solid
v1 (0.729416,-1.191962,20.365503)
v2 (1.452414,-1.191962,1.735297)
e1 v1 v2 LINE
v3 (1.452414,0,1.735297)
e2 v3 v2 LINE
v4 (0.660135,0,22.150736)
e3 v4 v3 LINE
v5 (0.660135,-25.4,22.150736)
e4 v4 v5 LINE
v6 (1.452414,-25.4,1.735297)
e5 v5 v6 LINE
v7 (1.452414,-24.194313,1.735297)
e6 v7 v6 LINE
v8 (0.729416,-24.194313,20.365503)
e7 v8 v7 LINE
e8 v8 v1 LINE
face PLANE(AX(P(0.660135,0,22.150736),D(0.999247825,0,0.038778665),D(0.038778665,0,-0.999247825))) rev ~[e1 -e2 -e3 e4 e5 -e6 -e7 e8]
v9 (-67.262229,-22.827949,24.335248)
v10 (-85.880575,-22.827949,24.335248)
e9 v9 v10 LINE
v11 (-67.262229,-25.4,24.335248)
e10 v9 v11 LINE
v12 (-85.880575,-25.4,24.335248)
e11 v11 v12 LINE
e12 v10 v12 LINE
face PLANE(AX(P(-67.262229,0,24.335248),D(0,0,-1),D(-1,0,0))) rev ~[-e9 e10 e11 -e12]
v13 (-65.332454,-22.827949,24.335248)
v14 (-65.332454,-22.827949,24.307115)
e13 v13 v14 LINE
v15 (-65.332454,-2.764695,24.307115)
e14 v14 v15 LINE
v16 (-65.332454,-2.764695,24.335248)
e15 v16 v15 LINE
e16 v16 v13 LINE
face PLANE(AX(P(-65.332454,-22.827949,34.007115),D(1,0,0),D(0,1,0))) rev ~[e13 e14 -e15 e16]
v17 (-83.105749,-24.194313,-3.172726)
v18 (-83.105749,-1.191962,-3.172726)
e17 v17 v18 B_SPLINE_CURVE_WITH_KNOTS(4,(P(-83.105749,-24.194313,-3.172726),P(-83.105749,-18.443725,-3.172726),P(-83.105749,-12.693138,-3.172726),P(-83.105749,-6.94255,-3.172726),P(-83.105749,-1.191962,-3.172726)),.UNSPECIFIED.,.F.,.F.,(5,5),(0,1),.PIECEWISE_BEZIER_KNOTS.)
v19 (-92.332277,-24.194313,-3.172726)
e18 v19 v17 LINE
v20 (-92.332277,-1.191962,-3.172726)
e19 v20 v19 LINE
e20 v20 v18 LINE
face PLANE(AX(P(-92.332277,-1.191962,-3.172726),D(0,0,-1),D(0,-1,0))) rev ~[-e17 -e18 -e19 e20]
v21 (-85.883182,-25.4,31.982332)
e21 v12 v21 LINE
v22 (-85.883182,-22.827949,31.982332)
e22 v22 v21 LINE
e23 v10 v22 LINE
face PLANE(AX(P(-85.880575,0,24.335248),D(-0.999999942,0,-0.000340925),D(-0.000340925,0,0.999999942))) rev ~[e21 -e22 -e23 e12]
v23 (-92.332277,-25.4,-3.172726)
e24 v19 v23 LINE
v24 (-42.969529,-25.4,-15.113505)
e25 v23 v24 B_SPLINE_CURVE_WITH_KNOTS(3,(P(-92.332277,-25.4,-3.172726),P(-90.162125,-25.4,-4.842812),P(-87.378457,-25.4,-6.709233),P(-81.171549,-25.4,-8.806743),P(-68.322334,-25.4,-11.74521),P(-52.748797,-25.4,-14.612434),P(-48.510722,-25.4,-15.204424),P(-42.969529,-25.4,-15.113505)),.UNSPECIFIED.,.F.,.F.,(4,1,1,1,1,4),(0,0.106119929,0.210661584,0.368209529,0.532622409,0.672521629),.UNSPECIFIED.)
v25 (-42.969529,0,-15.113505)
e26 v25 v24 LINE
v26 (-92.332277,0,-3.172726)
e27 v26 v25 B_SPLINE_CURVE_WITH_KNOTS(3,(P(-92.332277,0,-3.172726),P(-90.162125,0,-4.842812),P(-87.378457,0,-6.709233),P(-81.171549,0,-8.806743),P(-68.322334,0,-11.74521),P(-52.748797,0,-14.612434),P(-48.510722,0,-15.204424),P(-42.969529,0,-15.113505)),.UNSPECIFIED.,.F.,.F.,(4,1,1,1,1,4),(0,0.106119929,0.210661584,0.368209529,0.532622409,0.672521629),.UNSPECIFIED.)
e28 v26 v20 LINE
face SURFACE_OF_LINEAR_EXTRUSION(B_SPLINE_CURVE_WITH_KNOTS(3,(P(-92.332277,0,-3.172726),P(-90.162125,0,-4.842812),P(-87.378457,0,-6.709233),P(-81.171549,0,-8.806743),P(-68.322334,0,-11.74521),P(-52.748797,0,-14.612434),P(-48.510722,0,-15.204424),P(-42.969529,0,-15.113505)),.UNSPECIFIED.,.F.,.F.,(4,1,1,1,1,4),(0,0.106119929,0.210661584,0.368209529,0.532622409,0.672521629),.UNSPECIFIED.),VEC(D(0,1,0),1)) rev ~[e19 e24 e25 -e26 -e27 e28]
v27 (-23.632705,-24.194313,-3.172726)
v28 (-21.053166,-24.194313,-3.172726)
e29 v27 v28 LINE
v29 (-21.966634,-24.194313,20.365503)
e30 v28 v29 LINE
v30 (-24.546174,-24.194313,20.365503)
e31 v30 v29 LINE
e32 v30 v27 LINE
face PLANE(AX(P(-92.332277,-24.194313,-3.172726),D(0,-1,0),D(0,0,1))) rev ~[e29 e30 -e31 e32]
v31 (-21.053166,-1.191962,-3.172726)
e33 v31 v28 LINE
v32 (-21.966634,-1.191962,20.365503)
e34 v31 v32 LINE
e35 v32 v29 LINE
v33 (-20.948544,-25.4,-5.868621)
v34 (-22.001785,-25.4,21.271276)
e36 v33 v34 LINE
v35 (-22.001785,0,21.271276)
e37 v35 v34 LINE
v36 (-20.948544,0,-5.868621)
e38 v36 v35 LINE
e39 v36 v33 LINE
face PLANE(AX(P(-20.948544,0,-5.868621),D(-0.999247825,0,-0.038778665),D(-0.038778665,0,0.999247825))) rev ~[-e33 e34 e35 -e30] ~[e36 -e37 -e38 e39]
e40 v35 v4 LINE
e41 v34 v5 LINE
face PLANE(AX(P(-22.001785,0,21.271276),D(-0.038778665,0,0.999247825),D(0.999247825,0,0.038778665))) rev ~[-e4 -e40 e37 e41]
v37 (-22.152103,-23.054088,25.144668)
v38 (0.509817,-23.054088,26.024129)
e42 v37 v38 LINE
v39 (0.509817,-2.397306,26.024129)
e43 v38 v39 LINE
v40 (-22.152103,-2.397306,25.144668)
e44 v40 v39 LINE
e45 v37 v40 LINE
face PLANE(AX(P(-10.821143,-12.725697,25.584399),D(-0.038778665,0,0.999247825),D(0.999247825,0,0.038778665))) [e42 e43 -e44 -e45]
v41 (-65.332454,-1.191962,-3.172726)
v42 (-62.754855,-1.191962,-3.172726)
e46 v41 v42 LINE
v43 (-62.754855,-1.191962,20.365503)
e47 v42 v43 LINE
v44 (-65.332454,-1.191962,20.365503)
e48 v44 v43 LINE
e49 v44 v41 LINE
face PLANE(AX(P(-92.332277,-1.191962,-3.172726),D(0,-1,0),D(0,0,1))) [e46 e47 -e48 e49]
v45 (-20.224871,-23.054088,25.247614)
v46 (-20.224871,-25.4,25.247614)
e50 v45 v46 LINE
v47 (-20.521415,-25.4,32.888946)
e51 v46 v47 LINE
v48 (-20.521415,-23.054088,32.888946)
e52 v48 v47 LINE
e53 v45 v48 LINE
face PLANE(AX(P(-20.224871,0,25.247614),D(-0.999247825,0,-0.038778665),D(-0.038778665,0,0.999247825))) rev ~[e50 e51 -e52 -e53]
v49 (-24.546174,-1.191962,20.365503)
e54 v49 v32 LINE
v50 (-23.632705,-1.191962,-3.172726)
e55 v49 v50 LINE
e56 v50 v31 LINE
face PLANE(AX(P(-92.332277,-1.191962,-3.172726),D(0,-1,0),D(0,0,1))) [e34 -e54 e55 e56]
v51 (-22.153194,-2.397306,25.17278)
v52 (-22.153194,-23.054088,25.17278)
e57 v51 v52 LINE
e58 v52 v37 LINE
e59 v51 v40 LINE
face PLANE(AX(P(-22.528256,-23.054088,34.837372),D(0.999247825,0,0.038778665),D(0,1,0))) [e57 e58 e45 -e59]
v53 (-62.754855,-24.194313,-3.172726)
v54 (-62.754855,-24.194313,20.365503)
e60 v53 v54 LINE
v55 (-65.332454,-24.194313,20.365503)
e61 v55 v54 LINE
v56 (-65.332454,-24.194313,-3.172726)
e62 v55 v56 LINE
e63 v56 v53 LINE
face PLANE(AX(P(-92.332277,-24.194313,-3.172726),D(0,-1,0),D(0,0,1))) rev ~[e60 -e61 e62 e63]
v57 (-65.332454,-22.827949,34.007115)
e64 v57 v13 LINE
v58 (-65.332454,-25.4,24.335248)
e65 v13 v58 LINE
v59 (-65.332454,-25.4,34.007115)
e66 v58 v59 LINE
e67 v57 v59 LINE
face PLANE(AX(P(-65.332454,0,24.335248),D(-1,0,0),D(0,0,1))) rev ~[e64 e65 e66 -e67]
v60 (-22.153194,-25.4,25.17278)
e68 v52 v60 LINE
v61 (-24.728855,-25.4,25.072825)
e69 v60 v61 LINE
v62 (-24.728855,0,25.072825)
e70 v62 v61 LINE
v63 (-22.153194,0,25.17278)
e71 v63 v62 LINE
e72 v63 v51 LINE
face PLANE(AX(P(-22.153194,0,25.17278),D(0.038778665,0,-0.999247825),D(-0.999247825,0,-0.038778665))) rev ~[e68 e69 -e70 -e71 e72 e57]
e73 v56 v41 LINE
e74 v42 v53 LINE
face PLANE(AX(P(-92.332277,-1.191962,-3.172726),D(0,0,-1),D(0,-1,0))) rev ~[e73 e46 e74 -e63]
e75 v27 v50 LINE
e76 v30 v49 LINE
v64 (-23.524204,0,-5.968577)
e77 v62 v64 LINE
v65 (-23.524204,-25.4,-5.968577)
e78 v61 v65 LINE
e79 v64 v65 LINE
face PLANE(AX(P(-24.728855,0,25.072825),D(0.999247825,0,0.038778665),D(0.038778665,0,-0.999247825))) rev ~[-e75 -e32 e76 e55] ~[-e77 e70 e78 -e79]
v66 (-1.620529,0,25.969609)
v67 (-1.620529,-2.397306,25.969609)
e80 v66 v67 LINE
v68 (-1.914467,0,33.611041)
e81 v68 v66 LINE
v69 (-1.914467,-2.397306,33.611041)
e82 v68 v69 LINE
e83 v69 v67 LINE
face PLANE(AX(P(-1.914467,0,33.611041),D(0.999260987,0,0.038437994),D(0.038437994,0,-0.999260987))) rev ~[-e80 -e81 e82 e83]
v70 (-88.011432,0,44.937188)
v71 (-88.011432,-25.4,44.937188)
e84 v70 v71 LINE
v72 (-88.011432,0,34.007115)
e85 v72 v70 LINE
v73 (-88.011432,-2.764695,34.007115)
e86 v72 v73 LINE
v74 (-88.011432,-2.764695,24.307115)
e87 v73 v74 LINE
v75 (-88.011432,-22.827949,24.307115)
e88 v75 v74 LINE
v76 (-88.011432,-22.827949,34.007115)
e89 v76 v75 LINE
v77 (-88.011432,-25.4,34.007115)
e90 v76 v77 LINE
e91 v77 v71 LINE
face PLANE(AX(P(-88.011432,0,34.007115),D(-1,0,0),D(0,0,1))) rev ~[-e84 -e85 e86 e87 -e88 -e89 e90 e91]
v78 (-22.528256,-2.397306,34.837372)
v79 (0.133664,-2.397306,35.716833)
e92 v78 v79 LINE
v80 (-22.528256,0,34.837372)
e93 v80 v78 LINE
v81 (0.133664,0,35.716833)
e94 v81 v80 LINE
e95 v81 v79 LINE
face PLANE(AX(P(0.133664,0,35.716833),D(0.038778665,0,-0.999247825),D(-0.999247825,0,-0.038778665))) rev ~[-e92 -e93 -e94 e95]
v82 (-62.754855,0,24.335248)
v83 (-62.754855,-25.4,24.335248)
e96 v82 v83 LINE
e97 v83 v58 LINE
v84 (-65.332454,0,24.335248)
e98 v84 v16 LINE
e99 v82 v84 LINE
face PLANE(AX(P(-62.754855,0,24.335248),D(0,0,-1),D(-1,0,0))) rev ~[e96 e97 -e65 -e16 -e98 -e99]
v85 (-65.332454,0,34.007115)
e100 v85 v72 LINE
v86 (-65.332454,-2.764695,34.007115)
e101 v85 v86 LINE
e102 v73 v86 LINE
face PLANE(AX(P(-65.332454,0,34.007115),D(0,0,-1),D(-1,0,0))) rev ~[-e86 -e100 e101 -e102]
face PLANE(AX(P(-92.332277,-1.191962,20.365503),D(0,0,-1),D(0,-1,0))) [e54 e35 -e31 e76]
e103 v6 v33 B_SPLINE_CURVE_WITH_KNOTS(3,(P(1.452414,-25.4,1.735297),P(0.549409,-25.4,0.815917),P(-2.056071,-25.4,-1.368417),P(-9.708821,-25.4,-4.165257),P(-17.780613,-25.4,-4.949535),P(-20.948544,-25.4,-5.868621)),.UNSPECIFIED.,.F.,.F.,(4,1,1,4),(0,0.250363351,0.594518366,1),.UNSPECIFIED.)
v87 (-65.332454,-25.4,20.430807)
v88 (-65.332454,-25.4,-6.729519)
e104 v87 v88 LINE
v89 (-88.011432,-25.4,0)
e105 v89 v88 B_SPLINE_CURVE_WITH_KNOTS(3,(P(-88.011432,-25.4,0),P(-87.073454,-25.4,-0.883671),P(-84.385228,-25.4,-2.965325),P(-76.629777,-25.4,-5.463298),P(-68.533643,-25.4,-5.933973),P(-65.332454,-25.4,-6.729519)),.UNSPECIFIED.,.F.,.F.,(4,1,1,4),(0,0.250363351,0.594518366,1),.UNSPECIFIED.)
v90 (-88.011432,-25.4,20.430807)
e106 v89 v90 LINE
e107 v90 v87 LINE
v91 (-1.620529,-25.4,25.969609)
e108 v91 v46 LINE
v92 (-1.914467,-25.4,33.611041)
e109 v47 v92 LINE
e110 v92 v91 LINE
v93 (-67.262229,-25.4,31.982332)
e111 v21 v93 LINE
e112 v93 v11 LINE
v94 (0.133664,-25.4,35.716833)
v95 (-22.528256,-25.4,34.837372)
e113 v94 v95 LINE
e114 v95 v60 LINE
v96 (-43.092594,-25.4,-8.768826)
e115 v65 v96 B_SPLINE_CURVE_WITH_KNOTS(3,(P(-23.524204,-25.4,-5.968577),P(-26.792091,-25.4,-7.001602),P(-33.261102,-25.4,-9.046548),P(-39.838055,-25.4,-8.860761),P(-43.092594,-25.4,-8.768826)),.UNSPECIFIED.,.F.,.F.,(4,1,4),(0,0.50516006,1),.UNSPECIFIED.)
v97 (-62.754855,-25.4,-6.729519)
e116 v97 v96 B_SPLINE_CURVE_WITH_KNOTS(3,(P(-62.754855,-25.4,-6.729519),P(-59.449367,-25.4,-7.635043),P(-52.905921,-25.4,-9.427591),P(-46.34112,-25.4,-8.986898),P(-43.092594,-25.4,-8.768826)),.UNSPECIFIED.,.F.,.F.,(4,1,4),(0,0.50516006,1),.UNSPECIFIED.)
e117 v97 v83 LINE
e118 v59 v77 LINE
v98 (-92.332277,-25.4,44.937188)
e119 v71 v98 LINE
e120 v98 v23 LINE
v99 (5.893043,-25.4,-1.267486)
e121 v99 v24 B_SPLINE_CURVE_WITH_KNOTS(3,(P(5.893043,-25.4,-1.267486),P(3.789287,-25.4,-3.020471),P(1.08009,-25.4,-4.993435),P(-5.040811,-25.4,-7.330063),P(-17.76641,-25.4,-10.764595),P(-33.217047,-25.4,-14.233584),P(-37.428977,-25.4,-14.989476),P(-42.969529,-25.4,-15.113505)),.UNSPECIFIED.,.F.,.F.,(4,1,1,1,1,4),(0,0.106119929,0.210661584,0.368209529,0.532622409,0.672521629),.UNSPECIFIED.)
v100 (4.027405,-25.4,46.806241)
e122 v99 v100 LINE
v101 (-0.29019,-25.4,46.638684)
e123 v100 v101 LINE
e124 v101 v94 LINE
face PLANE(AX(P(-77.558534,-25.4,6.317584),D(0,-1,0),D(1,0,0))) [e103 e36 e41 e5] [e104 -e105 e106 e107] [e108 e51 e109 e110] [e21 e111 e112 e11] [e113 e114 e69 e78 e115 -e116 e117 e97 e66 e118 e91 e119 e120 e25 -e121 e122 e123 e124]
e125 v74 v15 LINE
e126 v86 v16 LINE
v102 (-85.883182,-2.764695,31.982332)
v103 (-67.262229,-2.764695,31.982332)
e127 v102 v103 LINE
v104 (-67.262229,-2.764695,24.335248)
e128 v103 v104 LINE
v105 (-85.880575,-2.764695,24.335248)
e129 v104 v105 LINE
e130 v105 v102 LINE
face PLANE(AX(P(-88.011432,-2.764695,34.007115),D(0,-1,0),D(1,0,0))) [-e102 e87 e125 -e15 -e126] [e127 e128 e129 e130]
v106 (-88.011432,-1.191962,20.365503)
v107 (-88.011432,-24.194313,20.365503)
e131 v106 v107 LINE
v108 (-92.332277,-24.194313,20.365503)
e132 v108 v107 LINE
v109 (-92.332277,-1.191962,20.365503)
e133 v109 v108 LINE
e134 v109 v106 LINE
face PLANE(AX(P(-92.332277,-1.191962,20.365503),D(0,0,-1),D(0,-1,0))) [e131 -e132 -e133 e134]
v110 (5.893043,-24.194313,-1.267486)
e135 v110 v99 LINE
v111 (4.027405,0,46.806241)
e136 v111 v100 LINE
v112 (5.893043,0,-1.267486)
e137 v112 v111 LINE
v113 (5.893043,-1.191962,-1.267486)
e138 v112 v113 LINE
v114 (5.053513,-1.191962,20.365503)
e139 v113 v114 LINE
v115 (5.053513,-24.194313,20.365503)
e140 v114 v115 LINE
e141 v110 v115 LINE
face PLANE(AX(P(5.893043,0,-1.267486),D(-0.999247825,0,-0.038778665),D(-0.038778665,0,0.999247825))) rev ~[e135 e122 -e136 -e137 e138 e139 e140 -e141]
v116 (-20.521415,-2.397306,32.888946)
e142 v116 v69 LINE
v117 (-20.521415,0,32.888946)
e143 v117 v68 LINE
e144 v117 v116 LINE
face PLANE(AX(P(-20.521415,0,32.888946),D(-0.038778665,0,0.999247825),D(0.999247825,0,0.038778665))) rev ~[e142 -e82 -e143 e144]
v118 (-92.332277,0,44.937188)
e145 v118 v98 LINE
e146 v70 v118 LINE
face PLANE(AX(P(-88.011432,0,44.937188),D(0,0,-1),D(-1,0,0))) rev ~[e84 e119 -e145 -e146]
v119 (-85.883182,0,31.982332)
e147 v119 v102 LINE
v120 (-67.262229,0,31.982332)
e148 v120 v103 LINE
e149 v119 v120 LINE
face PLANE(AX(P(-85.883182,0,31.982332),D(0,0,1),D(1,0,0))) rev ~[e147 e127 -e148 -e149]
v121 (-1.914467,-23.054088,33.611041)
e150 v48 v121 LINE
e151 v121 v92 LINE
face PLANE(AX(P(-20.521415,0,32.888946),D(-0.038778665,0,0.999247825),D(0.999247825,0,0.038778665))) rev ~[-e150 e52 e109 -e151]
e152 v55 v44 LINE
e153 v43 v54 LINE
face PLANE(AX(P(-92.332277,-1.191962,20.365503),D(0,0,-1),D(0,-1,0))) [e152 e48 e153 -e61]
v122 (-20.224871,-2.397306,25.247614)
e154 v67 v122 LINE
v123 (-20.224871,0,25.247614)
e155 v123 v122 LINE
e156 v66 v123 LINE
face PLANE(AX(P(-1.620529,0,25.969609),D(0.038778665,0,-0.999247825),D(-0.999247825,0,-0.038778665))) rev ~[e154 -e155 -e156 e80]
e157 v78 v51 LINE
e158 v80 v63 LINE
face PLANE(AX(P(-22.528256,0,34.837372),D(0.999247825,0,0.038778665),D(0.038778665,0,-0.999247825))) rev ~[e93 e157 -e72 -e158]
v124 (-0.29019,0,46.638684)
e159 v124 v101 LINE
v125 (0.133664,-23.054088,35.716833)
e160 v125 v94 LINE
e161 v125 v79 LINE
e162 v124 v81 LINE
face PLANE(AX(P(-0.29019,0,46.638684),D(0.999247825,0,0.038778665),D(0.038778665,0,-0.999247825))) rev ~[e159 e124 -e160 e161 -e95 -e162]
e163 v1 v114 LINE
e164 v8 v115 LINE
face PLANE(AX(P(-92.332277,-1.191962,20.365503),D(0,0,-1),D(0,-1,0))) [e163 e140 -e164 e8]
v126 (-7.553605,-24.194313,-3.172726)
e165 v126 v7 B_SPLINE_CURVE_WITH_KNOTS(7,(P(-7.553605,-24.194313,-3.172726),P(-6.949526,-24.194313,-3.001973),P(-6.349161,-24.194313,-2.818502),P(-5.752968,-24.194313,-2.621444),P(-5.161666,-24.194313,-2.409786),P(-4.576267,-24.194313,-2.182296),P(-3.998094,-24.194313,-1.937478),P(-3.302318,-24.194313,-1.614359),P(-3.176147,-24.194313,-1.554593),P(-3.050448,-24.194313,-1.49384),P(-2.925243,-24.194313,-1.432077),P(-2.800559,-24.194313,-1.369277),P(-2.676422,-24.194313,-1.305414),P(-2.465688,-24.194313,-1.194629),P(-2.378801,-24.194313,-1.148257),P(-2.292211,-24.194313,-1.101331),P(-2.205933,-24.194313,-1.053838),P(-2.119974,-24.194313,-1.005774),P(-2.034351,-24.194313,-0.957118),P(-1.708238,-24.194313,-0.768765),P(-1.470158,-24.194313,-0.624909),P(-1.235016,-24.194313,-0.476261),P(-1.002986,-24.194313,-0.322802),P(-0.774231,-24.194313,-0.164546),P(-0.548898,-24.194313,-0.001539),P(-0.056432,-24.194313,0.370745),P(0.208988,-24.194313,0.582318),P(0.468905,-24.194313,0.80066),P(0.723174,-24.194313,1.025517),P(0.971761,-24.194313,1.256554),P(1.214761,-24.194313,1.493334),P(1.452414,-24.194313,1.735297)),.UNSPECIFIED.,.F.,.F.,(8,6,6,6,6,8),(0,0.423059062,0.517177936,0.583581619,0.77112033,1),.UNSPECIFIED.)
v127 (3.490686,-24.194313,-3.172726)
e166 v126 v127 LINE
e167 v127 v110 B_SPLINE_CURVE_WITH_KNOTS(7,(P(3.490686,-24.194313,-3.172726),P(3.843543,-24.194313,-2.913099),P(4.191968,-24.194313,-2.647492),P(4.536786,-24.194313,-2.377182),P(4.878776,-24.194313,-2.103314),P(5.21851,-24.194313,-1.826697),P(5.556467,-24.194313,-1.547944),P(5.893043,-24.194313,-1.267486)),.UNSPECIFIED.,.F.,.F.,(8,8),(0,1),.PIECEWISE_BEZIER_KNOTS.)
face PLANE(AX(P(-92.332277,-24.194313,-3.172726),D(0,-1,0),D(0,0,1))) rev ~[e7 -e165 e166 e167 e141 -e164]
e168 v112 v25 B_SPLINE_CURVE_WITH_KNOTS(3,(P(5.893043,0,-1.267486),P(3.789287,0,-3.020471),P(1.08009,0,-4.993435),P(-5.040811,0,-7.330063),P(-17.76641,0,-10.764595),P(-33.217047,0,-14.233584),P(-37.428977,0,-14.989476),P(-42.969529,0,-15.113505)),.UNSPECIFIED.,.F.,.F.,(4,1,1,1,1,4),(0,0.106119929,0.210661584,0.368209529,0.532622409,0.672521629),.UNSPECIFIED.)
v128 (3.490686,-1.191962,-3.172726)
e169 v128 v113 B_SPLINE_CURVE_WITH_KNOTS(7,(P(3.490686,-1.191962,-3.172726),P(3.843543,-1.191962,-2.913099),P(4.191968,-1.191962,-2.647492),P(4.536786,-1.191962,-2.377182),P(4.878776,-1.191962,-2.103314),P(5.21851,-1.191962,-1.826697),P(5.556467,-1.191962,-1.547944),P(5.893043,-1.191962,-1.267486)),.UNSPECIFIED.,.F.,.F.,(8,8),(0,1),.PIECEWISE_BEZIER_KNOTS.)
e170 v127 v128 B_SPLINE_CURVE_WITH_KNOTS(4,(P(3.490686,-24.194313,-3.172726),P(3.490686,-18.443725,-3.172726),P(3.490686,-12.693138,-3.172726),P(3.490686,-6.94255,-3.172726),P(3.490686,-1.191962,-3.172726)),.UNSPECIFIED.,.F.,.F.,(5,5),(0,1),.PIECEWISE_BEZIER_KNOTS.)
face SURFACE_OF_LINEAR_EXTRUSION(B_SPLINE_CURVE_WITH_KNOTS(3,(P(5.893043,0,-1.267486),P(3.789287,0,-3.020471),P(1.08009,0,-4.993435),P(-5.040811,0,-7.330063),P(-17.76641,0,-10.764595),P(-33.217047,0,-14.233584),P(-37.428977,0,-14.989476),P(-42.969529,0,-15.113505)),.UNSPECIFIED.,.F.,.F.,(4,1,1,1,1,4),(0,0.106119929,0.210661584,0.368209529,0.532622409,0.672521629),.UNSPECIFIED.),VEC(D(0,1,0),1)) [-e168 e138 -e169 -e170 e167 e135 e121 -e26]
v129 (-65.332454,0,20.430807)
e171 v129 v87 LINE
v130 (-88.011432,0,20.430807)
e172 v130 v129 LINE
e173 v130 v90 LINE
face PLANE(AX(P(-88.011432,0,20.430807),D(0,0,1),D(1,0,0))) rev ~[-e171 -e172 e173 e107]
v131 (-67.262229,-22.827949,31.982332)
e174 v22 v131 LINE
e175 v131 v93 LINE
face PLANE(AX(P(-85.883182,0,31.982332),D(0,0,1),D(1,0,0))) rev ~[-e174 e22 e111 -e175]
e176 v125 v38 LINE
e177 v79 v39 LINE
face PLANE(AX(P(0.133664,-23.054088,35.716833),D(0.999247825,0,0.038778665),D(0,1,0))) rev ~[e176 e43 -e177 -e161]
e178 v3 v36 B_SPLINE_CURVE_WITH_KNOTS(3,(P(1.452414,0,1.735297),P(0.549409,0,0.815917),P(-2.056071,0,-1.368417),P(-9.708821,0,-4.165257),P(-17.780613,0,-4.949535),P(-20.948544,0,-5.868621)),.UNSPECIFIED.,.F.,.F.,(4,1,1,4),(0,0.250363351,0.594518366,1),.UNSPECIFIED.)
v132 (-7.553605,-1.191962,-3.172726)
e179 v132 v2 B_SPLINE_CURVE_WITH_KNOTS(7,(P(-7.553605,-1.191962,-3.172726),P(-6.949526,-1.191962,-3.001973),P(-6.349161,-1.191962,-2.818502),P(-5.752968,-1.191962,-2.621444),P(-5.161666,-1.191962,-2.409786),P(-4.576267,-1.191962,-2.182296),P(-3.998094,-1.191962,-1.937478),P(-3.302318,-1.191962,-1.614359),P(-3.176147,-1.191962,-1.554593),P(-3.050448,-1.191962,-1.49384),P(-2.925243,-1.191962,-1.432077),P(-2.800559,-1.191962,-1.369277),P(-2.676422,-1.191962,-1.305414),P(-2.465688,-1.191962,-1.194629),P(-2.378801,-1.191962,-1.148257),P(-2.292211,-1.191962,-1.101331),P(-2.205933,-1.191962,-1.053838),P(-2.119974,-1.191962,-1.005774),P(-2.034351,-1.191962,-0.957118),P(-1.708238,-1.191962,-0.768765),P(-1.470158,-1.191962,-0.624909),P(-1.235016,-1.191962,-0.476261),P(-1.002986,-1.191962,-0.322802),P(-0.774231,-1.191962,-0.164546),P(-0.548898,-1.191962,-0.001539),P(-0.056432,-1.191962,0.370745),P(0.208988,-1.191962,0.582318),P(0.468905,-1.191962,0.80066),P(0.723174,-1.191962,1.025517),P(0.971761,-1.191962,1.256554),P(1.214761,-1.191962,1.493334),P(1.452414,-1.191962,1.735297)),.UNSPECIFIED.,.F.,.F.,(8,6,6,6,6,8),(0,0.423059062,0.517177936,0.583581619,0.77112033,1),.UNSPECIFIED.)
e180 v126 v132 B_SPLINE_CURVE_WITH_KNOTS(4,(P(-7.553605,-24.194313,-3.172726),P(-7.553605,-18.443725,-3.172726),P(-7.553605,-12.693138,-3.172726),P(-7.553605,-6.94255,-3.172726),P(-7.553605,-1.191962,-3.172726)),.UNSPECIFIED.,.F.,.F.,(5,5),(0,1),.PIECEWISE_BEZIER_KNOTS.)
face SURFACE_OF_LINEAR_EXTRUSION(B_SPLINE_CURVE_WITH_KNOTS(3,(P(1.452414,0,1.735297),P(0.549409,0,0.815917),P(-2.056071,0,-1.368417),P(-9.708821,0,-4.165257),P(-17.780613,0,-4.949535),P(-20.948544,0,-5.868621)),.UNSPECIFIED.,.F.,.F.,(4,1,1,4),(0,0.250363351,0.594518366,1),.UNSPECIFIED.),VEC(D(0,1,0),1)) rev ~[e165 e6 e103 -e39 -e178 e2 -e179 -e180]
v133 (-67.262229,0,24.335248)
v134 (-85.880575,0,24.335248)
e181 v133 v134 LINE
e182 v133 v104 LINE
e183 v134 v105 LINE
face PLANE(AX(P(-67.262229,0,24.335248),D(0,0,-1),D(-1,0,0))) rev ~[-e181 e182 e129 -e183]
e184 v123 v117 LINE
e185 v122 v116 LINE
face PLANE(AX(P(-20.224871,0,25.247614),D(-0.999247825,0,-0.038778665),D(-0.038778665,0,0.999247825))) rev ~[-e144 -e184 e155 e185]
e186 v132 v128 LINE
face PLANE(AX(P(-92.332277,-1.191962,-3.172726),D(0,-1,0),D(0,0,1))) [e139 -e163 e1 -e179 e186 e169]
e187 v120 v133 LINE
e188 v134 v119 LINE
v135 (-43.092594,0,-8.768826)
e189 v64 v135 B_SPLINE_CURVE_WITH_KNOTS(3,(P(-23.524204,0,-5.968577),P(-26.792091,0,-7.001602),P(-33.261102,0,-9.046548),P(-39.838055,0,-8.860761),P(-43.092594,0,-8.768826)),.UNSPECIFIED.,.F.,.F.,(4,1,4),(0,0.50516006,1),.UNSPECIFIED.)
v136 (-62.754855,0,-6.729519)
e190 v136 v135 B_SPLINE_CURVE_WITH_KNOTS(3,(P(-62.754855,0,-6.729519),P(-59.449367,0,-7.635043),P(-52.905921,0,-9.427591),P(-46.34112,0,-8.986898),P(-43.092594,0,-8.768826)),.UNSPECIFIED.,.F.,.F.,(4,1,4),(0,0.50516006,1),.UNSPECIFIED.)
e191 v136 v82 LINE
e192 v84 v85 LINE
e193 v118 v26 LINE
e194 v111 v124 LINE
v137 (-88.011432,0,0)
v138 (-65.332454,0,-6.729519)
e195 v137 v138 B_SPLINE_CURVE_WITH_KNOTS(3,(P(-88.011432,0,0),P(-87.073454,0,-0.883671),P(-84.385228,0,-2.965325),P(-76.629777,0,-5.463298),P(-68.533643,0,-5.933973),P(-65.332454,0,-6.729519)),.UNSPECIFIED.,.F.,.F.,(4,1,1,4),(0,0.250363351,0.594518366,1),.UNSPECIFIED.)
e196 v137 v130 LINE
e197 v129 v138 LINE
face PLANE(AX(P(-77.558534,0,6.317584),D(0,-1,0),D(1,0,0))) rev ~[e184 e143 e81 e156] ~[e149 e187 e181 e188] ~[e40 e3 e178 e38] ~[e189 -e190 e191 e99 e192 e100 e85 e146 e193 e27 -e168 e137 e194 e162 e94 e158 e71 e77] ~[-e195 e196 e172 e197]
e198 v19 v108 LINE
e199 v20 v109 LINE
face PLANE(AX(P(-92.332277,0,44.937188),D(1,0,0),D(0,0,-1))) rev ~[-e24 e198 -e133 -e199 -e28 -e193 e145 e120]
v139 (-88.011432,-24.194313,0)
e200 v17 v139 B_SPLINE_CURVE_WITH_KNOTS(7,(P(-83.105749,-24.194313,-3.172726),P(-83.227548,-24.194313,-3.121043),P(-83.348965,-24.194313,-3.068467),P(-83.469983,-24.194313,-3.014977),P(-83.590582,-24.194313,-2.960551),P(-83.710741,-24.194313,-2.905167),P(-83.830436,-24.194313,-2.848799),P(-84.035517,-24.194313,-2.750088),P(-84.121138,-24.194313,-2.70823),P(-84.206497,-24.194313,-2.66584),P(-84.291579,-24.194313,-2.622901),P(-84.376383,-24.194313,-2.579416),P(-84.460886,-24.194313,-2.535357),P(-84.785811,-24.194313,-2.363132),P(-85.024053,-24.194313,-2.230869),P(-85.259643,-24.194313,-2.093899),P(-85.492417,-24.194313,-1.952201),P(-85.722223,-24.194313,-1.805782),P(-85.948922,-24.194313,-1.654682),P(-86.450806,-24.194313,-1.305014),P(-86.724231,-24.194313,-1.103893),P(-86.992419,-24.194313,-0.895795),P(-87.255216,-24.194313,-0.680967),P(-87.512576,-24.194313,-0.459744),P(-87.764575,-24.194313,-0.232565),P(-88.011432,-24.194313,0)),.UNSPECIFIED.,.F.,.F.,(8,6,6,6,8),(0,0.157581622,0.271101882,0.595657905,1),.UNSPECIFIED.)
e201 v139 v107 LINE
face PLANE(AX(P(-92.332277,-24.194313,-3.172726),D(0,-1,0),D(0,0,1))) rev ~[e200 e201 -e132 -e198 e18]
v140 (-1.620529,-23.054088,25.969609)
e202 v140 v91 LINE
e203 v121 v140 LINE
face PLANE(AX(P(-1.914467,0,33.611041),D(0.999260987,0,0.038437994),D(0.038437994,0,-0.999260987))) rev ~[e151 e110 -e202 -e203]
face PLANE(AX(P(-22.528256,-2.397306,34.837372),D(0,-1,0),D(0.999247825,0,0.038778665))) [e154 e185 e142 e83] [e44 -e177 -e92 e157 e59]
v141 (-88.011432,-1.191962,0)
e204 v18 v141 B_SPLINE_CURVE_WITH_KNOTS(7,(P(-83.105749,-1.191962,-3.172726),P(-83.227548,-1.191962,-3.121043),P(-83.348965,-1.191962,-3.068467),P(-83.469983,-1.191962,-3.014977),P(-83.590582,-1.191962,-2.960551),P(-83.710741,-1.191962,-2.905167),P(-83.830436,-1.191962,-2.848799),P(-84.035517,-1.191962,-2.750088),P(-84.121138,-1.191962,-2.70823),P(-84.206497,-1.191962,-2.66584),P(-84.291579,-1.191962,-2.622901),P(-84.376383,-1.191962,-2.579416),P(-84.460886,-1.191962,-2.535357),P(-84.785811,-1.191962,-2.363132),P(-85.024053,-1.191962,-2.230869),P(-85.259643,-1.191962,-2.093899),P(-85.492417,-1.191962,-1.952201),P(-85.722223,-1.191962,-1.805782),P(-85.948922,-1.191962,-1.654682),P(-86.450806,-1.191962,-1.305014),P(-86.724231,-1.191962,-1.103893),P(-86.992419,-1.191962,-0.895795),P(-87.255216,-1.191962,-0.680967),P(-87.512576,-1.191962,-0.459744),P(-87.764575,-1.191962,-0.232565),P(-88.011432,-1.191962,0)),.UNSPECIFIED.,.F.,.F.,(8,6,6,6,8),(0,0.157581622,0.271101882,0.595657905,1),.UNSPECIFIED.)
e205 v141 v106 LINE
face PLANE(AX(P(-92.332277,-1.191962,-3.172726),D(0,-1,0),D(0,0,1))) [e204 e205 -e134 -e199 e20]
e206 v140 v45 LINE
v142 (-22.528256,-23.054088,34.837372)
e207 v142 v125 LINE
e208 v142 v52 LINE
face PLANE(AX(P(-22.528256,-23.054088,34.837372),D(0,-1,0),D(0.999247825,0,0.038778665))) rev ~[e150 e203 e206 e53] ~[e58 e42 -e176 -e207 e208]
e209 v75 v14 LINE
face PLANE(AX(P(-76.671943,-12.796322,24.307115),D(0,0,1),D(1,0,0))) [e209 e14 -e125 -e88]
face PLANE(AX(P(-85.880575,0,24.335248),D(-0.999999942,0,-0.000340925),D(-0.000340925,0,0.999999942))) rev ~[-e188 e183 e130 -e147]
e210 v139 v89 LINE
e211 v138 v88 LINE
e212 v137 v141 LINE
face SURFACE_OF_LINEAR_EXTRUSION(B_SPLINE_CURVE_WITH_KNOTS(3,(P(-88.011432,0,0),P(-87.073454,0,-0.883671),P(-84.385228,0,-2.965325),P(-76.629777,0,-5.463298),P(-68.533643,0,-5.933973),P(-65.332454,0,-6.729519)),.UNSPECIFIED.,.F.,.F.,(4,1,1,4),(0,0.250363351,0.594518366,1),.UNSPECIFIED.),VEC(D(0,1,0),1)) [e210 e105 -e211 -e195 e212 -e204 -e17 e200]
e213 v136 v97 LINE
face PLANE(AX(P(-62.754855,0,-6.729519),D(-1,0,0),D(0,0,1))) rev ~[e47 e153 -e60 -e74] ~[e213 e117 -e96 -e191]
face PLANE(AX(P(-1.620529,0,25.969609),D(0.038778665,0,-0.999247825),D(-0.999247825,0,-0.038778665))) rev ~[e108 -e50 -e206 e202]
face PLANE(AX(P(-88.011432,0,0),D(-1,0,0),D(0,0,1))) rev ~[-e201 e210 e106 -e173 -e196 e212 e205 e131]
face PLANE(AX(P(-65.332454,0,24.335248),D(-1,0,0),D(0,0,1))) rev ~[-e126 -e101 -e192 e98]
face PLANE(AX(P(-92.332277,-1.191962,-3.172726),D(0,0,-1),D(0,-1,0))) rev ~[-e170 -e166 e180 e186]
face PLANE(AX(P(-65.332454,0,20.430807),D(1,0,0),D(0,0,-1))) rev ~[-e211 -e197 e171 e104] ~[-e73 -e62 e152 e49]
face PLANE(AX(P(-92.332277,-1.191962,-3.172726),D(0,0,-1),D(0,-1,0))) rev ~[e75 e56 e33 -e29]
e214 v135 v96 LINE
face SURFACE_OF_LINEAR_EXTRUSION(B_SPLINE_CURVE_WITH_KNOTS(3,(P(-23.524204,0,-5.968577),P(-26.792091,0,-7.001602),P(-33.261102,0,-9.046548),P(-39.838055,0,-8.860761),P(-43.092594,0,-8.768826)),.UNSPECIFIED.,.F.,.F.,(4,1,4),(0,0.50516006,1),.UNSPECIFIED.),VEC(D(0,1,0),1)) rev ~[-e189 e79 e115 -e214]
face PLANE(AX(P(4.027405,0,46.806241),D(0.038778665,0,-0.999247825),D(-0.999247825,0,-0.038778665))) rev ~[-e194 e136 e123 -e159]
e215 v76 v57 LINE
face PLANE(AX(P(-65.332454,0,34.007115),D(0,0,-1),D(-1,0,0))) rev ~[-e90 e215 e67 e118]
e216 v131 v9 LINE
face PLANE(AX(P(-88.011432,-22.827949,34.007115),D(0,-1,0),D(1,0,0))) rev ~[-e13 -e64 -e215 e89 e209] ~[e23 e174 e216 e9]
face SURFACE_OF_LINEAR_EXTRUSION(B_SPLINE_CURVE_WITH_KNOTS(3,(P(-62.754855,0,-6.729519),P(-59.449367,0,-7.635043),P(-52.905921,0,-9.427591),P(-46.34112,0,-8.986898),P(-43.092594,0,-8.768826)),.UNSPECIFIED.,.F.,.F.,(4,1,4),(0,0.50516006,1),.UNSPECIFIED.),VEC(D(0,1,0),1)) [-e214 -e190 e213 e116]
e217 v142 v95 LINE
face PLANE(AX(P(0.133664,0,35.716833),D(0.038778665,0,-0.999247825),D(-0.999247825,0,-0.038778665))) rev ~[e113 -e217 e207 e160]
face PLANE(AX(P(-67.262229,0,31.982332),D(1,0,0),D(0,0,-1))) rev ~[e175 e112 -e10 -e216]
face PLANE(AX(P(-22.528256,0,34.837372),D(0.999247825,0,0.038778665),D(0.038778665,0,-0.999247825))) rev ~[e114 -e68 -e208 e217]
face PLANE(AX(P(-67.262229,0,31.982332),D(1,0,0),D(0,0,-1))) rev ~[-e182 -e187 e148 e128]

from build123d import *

# Parameters (mm, degrees)
F1_DEPTH = 25.4
F2_W     = 23.002351285
F2_H     = 23.5382290557
F3_DEPTH = 200
F4_W     = 22.6789787412
F4_H     = 20.0632547494
F5_DEPTH = 9.7
F6_W     = 22.6789787412
F6_H     = 20.6567810383
F7_DEPTH = 9.7


with BuildPart() as f1:
    # F0 (on Front) → F1 (new body)
    with BuildSketch(Plane.XZ):
        with BuildLine():
            Line((-88.0114324391, 44.9371878058), (-92.332277447, 44.9371878058))
            Line((-92.332277447, 44.9371878058), (-92.332277447, -3.1727263704))
            add(Edge.make_bspline(
                [(-92.332277447, -3.1727263704), (-90.1621250206, -4.8428116353), (-87.3784565002, -6.7092328778), (-81.1715490314, -8.8067426399), (-68.3223344623, -11.7452096222), (-52.7487966745, -14.6124342412), (-48.5107222082, -15.2044240054), (-42.9695285857, -15.1135046035)],
                knots=[0, 0, 0, 0, 0.1061199285, 0.2106615838, 0.3682095287, 0.5326224088, 0.6725216292, 0.6725216292, 0.6725216292, 0.6725216292], degree=3))
            Line((-42.9695285857, -15.1135046035), (-43.0925939554, -8.7688258267))
            add(Edge.make_bspline(
                [(-62.7548545599, -6.7295194604), (-59.4493670767, -7.6350430897), (-52.9059212561, -9.4275910387), (-46.3411198764, -8.9868982298), (-43.0925939554, -8.7688258267)],
                knots=[0, 0, 0, 0, 0.50516006, 1, 1, 1, 1], degree=3))
            Line((-62.7548545599, -6.7295194604), (-65.3324536979, -6.7295194604))
            add(Edge.make_bspline(
                [(-88.0114324391, 0), (-87.0734538531, -0.8836713226), (-84.3852284873, -2.9653247289), (-76.6297771142, -5.4632983452), (-68.5336425498, -5.9339730817), (-65.3324536979, -6.7295194604)],
                knots=[0, 0, 0, 0, 0.2503633507, 0.5945183664, 1, 1, 1, 1], degree=3))
            Line((-88.0114324391, 0), (-88.0114324391, 20.4308070242))
            Line((-88.0114324391, 20.4308070242), (-88.0114324391, 24.3352483958))
            Line((-88.0114324391, 24.3352483958), (-88.0114324391, 34.0071152896))
            Line((-88.0114324391, 34.0071152896), (-88.0114324391, 44.9371878058))
        make_face()
        with BuildLine():
            Line((-43.0925939554, -8.7688258267), (-42.9695285857, -15.1135046035))
            add(Edge.make_bspline(
                [(5.8930433958, -1.2674864281), (3.7892869814, -3.02047111), (1.0800895919, -4.9934354255), (-5.0408105659, -7.3300630778), (-17.7664104464, -10.764595205), (-33.2170470606, -14.233584173), (-37.4289771792, -14.989475527), (-42.9695285857, -15.1135046035)],
                knots=[0, 0, 0, 0, 0.1061199285, 0.2106615838, 0.3682095287, 0.5326224088, 0.6725216292, 0.6725216292, 0.6725216292, 0.6725216292], degree=3))
            Line((5.8930433958, -1.2674864281), (4.0274051514, 46.8062406583))
            Line((4.0274051514, 46.8062406583), (-0.2901898236, 46.6386840573))
            Line((-0.2901898236, 46.6386840573), (0.1336637968, 35.7168328718))
            Line((0.1336637968, 35.7168328718), (0.5087258829, 26.0522409176))
            Line((0.5087258829, 26.0522409176), (0.6601349068, 22.1507363704))
            Line((0.6601349068, 22.1507363704), (1.4524143278, 1.7352968948))
            add(Edge.make_bspline(
                [(1.4524143278, 1.7352968948), (0.5494088604, 0.8159166906), (-2.0560707486, -1.3684167382), (-9.7088205806, -4.1652574911), (-17.7806132945, -4.9495354876), (-20.9485440647, -5.8686213059)],
                knots=[0, 0, 0, 0, 0.2503633507, 0.5945183664, 1, 1, 1, 1], degree=3))
            Line((-20.9485440647, -5.8686213059), (-23.5242043963, -5.9685771594))
            add(Edge.make_bspline(
                [(-23.5242043963, -5.9685771594), (-26.792090576, -7.001602068), (-33.2611019617, -9.0465477999), (-39.8380549387, -8.8607607028), (-43.0925939554, -8.7688258267)],
                knots=[0, 0, 0, 0, 0.50516006, 1, 1, 1, 1], degree=3))
        make_face()
        Polygon((-24.7288546219, 25.0728245453), (-23.5242043963, -5.9685771594), (-20.9485440647, -5.8686213059), (-22.0017852664, 21.2712758516), (0.6601349068, 22.1507363704), (0.5087258829, 26.0522409176), (0.1336637968, 35.7168328718), (-22.5282563764, 34.837372353), (-22.1531942903, 25.1727803987), align=None)
        Polygon((-20.2248709389, 25.2476144923), (-20.5214146142, 32.8889456861), (-1.9144672145, 33.6110414083), (-1.6205286616, 25.9696091153), align=None, mode=Mode.SUBTRACT)
        Polygon((-65.3324536979, 34.0071152896), (-88.0114324391, 34.0071152896), (-88.0114324391, 24.3352483958), (-88.0114324391, 20.4308070242), (-65.3324536979, 20.4308070242), (-65.3324536979, -6.7295194604), (-62.7548545599, -6.7295194604), (-62.7548545599, 24.3352483958), (-65.3324536979, 24.3352483958), align=None)
        Polygon((-85.8805751163, 24.3352483958), (-85.8831821996, 31.9823315367), (-67.2622285783, 31.9823315367), (-67.2622285783, 24.3352483958), align=None, mode=Mode.SUBTRACT)
    extrude(amount=F1_DEPTH)

    # F2 (on face) → F3 (cut)
    with BuildSketch(Plane(origin=(-92.332277447, 0, 0), x_dir=(0, -1, 0), z_dir=(-1, 0, 0))):
        with Locations((12.6931375707, 8.5963881575)):
            Rectangle(F2_W, F2_H)
    extrude(amount=-F3_DEPTH, mode=Mode.SUBTRACT)

    # F4 (on face) → F5 (cut)
    with BuildSketch(Plane.XY.offset(34.0071152896)):
        with Locations((-76.6719430685, -12.7963220002)):
            Rectangle(F4_W, F4_H)
    extrude(amount=-F5_DEPTH, mode=Mode.SUBTRACT)

    # F6 (on face) → F7 (cut)
    with BuildSketch(Plane(origin=(-1.3838082935, 0, 35.6579430345), x_dir=(0.9992478247, 0, 0.038778665), z_dir=(-0.038778665, 0, 0.9992478247))):
        with Locations((-9.820875016, -12.7256970154)):
            Rectangle(F6_W, F6_H)
    extrude(amount=-F7_DEPTH, mode=Mode.SUBTRACT)


solid = f1.part
